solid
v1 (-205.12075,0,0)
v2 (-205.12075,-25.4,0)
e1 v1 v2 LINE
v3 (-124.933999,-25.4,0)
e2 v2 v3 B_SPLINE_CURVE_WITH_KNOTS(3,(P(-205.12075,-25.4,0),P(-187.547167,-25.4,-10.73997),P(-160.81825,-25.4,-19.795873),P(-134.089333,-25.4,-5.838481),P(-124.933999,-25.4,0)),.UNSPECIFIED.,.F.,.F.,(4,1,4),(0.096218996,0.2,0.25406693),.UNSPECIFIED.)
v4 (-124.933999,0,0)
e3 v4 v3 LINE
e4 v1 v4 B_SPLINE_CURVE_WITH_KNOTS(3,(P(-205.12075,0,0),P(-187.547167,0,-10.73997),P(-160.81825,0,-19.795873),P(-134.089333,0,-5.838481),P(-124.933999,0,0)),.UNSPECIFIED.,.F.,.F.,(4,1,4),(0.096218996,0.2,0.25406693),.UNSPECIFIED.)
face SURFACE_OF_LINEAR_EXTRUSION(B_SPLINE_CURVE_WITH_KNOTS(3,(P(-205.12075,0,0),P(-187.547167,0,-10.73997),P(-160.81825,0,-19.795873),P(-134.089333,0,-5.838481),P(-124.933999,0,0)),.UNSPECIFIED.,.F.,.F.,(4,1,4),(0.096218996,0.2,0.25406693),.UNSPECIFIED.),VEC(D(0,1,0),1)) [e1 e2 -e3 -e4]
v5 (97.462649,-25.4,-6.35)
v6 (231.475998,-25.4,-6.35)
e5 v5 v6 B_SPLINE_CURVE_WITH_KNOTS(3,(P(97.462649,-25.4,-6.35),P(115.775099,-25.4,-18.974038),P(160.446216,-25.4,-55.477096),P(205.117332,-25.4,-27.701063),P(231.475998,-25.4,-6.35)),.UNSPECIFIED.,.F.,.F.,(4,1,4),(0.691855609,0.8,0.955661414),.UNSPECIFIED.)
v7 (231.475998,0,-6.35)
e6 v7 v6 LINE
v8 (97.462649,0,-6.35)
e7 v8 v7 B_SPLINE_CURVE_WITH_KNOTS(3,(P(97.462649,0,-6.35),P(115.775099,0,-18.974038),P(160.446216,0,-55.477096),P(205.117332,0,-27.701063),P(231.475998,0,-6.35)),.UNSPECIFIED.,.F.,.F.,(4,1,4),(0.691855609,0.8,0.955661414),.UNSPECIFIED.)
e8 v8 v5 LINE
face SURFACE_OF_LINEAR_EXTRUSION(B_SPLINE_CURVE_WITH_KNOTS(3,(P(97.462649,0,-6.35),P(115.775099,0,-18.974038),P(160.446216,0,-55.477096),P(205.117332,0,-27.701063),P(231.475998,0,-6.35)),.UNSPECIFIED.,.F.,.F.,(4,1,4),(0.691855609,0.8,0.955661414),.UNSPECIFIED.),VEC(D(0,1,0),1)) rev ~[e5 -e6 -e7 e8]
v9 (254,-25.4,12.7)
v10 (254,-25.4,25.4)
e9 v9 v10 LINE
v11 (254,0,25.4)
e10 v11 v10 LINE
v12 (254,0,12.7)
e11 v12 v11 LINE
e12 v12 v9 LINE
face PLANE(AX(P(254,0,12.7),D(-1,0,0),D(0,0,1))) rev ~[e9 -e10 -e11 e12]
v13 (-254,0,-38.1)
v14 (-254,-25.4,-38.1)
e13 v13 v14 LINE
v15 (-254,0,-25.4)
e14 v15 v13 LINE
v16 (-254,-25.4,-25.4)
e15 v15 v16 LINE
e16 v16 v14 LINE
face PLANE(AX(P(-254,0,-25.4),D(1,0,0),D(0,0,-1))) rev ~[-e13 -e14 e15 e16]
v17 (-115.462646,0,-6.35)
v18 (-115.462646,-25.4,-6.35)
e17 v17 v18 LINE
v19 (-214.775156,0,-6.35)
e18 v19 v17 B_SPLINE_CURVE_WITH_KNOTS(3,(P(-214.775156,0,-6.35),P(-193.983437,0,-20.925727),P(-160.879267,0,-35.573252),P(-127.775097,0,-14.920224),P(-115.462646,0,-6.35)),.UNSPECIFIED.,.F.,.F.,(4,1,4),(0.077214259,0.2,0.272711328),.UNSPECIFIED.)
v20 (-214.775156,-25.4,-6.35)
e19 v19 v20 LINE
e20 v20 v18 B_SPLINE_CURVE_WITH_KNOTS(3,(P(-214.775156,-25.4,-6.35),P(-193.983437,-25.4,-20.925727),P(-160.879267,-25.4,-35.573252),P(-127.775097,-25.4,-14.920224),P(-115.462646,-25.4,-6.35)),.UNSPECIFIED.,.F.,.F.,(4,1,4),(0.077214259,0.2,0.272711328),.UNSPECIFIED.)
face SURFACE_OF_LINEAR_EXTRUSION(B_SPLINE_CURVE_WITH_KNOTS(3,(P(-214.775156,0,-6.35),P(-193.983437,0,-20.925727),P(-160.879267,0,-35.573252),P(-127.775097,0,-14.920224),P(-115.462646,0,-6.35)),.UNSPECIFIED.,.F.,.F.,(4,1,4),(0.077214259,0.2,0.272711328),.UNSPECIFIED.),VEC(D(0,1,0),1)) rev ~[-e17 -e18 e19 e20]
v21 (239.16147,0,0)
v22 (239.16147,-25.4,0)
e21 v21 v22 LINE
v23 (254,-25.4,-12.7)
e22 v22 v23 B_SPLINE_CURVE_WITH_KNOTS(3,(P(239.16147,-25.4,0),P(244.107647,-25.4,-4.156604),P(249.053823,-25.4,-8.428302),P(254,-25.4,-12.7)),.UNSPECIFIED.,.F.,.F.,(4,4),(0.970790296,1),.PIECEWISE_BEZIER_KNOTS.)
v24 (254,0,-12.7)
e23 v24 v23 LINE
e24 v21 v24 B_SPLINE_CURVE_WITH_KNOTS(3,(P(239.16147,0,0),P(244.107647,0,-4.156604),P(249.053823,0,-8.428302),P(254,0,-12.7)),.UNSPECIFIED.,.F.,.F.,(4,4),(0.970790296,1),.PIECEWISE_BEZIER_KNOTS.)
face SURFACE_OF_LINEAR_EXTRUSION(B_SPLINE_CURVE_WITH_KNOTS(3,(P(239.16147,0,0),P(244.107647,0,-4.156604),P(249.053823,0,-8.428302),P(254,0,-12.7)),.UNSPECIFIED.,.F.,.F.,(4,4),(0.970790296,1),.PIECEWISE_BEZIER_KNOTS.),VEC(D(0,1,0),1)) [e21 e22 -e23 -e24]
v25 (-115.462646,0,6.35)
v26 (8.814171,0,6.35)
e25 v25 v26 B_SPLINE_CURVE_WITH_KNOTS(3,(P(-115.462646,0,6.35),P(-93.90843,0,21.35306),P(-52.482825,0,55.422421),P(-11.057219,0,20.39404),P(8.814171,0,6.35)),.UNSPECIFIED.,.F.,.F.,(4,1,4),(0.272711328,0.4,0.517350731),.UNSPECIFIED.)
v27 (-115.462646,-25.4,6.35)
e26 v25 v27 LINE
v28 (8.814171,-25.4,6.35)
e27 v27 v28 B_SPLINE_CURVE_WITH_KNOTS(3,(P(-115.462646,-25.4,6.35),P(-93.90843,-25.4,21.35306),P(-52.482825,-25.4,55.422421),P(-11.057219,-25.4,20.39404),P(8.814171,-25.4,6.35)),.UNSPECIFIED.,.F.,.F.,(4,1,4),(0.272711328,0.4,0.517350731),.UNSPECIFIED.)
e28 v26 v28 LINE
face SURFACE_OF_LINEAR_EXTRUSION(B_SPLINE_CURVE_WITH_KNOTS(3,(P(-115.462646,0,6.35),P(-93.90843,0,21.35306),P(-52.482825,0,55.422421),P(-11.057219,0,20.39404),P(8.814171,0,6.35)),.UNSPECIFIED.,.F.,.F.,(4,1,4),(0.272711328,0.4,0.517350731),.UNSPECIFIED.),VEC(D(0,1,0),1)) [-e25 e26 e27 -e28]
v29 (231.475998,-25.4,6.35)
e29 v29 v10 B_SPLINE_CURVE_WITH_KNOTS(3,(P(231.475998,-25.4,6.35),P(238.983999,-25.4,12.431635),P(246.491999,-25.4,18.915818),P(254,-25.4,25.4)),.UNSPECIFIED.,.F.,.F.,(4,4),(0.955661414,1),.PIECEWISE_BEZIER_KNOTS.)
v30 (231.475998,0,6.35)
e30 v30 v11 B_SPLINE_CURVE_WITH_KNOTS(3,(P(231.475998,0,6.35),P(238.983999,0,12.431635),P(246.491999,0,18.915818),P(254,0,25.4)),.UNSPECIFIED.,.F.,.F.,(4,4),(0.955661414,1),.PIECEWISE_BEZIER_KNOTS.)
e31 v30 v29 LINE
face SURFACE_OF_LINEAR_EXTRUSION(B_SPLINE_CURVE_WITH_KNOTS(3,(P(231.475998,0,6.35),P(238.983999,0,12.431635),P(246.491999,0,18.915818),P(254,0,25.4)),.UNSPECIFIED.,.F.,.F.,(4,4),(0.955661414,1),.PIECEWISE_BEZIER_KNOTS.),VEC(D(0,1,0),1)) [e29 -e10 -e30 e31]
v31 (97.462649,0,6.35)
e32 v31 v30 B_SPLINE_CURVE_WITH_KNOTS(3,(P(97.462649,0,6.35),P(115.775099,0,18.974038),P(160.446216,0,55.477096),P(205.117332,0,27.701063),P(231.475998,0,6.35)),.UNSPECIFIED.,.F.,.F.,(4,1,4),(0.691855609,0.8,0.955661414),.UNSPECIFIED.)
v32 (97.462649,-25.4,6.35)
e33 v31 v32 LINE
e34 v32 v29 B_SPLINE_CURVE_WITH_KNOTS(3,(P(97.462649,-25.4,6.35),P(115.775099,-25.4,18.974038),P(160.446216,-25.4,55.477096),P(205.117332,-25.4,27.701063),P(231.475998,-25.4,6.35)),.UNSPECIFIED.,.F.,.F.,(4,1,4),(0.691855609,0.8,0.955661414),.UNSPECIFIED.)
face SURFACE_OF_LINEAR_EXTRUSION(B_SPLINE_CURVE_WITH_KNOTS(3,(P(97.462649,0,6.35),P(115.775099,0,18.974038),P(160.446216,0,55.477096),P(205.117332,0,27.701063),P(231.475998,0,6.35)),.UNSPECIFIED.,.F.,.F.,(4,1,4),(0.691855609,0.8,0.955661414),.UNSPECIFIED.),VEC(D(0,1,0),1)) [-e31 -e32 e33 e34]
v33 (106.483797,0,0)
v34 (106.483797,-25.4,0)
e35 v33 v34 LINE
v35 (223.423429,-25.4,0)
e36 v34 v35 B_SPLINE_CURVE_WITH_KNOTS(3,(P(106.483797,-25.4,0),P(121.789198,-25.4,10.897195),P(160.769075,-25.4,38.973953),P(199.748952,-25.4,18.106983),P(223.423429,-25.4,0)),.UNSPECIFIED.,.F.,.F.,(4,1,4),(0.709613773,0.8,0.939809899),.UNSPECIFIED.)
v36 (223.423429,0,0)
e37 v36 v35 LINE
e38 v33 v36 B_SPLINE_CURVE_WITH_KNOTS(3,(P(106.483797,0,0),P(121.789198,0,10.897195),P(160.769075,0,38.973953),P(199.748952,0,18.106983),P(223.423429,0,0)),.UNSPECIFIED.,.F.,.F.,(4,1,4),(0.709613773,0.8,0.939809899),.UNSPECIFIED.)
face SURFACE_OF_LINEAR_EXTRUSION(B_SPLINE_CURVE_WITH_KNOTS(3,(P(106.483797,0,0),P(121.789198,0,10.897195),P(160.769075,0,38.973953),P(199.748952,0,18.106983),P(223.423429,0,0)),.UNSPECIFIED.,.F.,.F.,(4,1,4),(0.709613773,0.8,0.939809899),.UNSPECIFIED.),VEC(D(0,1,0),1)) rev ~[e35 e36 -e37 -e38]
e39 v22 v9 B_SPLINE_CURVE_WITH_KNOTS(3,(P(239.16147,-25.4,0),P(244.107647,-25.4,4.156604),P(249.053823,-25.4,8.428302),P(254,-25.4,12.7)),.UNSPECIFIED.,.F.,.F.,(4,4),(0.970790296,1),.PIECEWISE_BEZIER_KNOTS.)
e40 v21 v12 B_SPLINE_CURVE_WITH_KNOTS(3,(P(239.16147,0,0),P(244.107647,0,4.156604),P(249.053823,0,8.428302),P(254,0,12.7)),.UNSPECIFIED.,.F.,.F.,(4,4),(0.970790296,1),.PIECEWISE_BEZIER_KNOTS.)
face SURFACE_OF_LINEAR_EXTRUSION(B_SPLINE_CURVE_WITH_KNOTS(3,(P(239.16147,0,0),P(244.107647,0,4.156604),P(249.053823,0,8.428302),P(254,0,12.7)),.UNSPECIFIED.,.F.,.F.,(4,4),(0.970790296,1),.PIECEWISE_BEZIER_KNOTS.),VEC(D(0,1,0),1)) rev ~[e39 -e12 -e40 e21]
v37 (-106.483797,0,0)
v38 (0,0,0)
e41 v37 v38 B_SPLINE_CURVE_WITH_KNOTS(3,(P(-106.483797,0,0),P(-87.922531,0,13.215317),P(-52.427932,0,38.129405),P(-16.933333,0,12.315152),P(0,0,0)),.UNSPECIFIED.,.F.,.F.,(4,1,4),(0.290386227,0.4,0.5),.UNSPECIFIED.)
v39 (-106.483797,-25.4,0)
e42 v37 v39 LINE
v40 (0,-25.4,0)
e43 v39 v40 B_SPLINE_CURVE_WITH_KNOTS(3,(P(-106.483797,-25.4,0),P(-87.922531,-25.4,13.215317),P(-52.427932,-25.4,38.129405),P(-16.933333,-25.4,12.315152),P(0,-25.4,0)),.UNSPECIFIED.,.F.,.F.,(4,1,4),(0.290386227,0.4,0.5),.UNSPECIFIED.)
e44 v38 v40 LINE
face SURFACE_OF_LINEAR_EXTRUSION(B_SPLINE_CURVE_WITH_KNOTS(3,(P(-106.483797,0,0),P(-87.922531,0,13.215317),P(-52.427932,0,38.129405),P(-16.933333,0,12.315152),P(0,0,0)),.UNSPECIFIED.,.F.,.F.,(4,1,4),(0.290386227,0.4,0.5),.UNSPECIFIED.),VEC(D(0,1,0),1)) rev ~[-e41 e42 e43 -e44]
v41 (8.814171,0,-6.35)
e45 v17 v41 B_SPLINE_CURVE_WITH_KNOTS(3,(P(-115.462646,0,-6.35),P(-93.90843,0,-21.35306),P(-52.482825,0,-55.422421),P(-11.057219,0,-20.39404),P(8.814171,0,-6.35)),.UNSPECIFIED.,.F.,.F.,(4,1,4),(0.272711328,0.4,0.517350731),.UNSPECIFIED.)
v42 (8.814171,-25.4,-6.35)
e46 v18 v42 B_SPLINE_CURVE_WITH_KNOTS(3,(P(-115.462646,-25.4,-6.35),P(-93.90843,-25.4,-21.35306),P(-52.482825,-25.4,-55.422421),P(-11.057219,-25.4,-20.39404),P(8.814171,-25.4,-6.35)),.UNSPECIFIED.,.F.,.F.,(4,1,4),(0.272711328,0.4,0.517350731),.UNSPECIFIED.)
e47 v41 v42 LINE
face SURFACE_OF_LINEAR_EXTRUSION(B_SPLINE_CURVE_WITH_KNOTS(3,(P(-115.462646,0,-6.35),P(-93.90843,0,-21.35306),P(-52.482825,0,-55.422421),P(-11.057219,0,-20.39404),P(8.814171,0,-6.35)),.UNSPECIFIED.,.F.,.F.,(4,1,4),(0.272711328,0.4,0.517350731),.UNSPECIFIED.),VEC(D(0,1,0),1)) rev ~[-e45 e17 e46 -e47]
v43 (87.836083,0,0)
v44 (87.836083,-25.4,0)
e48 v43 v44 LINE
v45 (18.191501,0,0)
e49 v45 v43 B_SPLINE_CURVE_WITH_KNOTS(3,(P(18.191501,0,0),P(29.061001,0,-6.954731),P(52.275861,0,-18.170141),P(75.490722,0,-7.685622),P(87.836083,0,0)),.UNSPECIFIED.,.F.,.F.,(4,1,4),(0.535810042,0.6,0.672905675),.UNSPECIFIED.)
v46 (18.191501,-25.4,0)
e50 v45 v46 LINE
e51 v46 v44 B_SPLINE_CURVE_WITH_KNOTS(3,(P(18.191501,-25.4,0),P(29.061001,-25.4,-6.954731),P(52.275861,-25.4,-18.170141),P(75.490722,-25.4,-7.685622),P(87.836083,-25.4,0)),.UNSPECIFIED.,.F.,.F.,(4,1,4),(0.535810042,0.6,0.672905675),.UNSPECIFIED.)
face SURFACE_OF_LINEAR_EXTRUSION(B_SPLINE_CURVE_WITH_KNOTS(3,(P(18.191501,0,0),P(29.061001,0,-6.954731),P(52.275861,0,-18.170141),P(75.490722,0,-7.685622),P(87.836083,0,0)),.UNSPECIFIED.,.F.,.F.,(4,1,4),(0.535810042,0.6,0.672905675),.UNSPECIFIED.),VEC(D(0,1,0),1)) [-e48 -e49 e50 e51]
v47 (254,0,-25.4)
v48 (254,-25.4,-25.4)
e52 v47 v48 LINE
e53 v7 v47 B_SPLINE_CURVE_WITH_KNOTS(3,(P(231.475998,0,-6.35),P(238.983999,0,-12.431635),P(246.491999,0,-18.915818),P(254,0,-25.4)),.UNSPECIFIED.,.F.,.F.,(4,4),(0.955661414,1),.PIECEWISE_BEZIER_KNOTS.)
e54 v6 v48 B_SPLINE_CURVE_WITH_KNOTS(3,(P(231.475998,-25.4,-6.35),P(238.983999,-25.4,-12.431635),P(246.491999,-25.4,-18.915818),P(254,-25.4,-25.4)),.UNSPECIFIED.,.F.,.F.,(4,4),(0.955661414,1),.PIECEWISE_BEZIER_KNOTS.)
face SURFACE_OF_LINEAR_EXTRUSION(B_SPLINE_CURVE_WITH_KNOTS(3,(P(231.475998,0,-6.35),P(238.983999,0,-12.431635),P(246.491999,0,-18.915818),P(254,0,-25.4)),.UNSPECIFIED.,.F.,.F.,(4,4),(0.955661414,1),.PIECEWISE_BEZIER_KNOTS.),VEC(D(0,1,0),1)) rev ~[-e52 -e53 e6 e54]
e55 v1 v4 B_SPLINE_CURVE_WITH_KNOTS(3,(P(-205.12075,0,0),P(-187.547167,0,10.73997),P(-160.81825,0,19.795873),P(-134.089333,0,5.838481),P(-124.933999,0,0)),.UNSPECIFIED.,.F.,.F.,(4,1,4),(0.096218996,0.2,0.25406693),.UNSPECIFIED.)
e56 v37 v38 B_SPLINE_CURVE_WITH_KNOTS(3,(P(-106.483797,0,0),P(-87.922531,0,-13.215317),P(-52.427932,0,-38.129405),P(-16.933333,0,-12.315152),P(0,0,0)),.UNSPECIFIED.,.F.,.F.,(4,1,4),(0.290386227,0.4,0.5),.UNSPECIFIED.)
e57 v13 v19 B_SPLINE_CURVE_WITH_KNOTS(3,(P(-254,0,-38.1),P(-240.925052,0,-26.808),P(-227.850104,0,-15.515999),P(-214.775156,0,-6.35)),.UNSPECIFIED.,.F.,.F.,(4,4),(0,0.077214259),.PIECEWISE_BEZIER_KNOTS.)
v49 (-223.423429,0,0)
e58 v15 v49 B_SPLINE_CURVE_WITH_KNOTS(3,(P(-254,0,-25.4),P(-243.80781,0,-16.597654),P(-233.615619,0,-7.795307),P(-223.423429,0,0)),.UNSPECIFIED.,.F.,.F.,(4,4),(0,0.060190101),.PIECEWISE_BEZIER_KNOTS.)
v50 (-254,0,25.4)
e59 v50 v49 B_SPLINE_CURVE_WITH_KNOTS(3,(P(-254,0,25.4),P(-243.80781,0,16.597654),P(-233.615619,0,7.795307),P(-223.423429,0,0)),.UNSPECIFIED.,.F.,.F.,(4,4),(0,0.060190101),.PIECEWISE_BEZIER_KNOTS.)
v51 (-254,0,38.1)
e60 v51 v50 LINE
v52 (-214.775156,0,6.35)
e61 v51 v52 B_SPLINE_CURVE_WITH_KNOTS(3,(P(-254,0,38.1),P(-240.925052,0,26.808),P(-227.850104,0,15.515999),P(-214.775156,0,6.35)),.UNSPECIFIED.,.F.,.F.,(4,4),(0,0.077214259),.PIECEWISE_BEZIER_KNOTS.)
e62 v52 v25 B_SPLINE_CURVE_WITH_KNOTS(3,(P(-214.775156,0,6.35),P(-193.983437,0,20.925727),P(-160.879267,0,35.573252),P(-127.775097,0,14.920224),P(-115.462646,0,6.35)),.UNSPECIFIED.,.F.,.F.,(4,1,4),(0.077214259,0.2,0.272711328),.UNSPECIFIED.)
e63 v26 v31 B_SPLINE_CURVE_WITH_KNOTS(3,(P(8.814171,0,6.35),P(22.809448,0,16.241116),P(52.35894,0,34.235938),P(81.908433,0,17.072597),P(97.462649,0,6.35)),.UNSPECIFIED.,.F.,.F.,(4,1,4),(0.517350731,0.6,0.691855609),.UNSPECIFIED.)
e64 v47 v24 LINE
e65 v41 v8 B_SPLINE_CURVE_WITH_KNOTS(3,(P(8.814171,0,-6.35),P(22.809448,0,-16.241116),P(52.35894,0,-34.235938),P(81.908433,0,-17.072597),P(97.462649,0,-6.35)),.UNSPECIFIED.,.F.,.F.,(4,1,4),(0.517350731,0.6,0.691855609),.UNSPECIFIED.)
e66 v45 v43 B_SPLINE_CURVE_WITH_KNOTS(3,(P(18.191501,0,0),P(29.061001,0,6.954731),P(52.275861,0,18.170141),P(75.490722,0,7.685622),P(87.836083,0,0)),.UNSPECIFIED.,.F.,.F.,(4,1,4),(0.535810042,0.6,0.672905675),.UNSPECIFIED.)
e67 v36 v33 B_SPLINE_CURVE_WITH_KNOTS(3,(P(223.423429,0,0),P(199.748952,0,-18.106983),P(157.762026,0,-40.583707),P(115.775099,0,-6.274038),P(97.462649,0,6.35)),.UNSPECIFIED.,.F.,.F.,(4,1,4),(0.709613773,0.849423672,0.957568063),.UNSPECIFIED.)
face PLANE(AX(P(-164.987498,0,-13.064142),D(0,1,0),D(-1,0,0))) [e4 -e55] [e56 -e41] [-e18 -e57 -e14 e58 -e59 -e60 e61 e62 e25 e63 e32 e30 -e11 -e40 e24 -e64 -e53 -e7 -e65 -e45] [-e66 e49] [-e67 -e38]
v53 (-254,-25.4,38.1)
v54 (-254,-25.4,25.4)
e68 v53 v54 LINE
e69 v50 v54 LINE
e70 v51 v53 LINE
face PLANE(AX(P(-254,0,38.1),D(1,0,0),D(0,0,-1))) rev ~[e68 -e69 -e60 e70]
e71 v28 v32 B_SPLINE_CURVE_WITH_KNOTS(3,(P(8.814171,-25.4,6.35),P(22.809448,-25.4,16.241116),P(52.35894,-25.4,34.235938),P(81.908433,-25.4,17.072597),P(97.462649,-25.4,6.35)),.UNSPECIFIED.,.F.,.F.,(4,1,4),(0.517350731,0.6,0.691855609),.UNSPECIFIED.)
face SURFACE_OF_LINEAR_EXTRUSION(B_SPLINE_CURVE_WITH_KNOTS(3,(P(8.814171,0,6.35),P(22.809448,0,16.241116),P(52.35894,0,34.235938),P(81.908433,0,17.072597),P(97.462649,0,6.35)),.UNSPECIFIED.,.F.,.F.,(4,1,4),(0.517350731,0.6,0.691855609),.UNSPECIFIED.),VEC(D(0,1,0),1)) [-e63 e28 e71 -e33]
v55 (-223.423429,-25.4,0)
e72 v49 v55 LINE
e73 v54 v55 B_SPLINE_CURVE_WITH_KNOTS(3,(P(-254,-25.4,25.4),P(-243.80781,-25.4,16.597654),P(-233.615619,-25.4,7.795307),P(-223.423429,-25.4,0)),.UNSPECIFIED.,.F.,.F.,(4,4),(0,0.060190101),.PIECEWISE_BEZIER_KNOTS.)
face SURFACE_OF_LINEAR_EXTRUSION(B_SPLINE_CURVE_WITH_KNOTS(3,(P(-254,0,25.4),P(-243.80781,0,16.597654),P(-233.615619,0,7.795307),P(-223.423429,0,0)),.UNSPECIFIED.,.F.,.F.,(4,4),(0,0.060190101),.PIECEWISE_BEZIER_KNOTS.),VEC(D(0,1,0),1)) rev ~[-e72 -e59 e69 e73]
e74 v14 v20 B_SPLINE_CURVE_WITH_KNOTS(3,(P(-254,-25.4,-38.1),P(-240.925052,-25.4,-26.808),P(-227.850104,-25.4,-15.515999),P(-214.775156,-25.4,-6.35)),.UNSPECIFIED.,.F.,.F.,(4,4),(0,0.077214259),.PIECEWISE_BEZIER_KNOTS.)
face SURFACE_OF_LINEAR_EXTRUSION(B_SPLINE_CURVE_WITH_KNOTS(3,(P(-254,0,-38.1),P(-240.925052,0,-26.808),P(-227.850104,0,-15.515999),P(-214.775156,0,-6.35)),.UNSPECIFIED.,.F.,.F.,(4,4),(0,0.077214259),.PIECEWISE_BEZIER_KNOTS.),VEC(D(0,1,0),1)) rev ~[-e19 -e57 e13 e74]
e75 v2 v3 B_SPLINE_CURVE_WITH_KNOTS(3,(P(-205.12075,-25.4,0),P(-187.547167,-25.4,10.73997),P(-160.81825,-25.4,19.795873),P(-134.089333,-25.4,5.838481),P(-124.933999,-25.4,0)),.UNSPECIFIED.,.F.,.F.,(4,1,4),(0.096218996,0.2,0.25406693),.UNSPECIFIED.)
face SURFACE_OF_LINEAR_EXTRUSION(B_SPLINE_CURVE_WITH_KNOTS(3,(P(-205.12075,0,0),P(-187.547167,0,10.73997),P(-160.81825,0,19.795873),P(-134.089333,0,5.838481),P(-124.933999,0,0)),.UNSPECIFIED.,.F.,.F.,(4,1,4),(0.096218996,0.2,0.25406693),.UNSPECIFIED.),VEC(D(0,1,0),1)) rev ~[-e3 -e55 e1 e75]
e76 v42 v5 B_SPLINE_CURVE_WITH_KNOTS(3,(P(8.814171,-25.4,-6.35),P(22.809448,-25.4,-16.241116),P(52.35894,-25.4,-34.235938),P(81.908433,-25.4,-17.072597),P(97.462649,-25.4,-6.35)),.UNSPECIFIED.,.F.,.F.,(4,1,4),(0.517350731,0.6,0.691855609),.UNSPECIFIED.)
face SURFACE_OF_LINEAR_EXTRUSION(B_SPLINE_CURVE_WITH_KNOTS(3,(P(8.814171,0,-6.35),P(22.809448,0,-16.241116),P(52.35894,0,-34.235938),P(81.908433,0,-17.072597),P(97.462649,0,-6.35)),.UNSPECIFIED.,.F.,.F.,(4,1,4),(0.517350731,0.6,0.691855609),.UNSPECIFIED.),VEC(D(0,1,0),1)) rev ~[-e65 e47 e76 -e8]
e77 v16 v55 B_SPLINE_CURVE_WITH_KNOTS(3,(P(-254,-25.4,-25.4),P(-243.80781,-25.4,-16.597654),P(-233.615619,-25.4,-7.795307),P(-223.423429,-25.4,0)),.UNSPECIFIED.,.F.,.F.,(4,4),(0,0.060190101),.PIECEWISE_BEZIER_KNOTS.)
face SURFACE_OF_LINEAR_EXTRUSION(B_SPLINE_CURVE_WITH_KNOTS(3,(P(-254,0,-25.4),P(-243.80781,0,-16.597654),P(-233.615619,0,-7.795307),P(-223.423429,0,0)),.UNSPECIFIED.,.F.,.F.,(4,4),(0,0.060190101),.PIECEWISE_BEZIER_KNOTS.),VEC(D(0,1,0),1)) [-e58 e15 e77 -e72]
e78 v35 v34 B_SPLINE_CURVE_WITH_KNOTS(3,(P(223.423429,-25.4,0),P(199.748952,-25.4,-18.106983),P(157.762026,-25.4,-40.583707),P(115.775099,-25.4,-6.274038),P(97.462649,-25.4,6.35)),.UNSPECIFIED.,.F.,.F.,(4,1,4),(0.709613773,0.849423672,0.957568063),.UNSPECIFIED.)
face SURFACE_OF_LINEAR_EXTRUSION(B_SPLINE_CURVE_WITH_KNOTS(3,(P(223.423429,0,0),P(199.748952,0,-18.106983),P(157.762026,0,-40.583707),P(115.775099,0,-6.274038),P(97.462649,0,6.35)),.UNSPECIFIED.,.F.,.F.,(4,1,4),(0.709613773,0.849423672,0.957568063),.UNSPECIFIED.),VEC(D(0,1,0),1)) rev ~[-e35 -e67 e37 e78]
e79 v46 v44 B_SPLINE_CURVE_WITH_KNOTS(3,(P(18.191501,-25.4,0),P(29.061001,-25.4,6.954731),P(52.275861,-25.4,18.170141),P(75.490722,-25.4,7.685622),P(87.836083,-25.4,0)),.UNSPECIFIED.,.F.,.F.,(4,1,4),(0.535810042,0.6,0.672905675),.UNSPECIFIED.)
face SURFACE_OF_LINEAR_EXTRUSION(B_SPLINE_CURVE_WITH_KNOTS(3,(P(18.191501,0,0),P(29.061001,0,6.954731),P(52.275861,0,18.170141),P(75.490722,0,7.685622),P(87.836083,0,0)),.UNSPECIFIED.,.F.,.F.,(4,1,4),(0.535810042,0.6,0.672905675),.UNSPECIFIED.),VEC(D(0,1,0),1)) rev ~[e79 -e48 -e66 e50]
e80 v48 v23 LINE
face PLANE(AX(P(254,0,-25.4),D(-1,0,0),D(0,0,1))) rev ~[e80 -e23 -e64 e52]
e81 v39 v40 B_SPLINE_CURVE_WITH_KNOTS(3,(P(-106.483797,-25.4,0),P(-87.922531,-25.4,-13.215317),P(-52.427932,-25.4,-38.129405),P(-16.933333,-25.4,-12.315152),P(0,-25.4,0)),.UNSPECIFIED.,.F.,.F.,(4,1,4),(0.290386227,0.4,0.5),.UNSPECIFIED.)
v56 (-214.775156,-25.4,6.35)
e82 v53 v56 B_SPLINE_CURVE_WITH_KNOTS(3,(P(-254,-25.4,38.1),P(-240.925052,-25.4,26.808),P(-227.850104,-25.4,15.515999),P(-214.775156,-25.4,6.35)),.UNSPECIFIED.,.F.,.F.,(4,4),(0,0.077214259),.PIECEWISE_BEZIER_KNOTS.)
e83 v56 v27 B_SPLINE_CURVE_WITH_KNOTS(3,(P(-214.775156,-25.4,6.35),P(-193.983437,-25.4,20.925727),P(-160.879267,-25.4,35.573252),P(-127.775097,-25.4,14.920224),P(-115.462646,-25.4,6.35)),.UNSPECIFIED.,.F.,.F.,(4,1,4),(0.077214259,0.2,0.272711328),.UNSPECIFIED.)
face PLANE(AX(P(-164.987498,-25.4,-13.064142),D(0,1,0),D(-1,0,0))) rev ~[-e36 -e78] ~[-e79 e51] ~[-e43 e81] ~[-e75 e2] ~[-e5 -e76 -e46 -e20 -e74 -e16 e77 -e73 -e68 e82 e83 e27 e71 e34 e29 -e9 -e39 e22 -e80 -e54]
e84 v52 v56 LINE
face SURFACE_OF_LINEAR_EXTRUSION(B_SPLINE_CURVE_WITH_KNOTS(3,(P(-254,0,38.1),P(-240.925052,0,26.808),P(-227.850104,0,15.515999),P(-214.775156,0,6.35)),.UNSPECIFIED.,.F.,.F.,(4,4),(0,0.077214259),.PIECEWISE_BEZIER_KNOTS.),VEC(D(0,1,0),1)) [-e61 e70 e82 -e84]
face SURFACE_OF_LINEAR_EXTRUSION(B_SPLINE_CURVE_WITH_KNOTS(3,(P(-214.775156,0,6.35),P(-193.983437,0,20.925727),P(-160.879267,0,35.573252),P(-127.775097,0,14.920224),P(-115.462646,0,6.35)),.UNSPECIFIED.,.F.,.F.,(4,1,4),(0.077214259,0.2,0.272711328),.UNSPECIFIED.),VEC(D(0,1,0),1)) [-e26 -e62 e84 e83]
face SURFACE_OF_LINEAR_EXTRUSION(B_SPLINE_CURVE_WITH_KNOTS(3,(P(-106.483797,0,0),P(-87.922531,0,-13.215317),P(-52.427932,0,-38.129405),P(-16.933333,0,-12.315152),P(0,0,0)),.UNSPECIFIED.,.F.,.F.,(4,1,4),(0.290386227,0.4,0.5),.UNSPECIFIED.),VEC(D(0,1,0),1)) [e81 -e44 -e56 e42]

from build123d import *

# Parameters (mm, degrees)
F1_DEPTH = 25.4


with BuildPart() as f1:
    # F0 (on Front) → F1 (new body)
    with BuildSketch(Plane.XZ):
        with BuildLine():
            add(Edge.make_bspline(
                [(-214.7751562029, -6.35), (-211.5570208021, -4.093973735), (-208.3388854013, -1.9667404666), (-205.1207500005, 0)],
                knots=[0.0772142594, 0.0772142594, 0.0772142594, 0.0772142594, 0.0962189961, 0.0962189961, 0.0962189961, 0.0962189961], degree=3))
            add(Edge.make_bspline(
                [(-214.7751562029, -6.35), (-193.9834374686, -20.9257271579), (-160.8792672429, -35.5732524158), (-127.7750970172, -14.9202237117), (-115.4626455258, -6.35)],
                knots=[0.0772142594, 0.0772142594, 0.0772142594, 0.0772142594, 0.2, 0.2727113277, 0.2727113277, 0.2727113277, 0.2727113277], degree=3))
            add(Edge.make_bspline(
                [(-124.933999452, 0), (-121.7768814766, -2.0133370092), (-118.6197635012, -4.1524516602), (-115.4626455258, -6.35)],
                knots=[0.2540669302, 0.2540669302, 0.2540669302, 0.2540669302, 0.2727113277, 0.2727113277, 0.2727113277, 0.2727113277], degree=3))
            add(Edge.make_bspline(
                [(-205.1207500005, 0), (-187.547166667, -10.7399699454), (-160.8182498175, -19.7958733422), (-134.089332968, -5.8384805203), (-124.933999452, 0)],
                knots=[0.0962189961, 0.0962189961, 0.0962189961, 0.0962189961, 0.2, 0.2540669302, 0.2540669302, 0.2540669302, 0.2540669302], degree=3))
        make_face()
        with BuildLine():
            add(Edge.make_bspline(
                [(-214.7751562029, 6.35), (-193.9834374686, 20.9257271579), (-160.8792672429, 35.5732524158), (-127.7750970172, 14.9202237117), (-115.4626455258, 6.35)],
                knots=[0.0772142594, 0.0772142594, 0.0772142594, 0.0772142594, 0.2, 0.2727113277, 0.2727113277, 0.2727113277, 0.2727113277], degree=3))
            add(Edge.make_bspline(
                [(-214.7751562029, 6.35), (-211.5570208021, 4.093973735), (-208.3388854013, 1.9667404666), (-205.1207500005, 0)],
                knots=[0.0772142594, 0.0772142594, 0.0772142594, 0.0772142594, 0.0962189961, 0.0962189961, 0.0962189961, 0.0962189961], degree=3))
            add(Edge.make_bspline(
                [(-205.1207500005, 0), (-187.547166667, 10.7399699454), (-160.8182498175, 19.7958733422), (-134.089332968, 5.8384805203), (-124.933999452, 0)],
                knots=[0.0962189961, 0.0962189961, 0.0962189961, 0.0962189961, 0.2, 0.2540669302, 0.2540669302, 0.2540669302, 0.2540669302], degree=3))
            add(Edge.make_bspline(
                [(-124.933999452, 0), (-121.7768814766, 2.0133370092), (-118.6197635012, 4.1524516602), (-115.4626455258, 6.35)],
                knots=[0.2540669302, 0.2540669302, 0.2540669302, 0.2540669302, 0.2727113277, 0.2727113277, 0.2727113277, 0.2727113277], degree=3))
        make_face()
        with BuildLine():
            add(Edge.make_bspline(
                [(-223.4234286462, 0), (-220.5406711651, 2.2048234714), (-217.657913684, 4.3290854694), (-214.7751562029, 6.35)],
                knots=[0.0601901011, 0.0601901011, 0.0601901011, 0.0601901011, 0.0772142594, 0.0772142594, 0.0772142594, 0.0772142594], degree=3))
            add(Edge.make_bspline(
                [(-223.4234286462, 0), (-220.5406711651, -2.2048234714), (-217.657913684, -4.3290854694), (-214.7751562029, -6.35)],
                knots=[0.0601901011, 0.0601901011, 0.0601901011, 0.0601901011, 0.0772142594, 0.0772142594, 0.0772142594, 0.0772142594], degree=3))
            add(Edge.make_bspline(
                [(-214.7751562029, -6.35), (-211.5570208021, -4.093973735), (-208.3388854013, -1.9667404666), (-205.1207500005, 0)],
                knots=[0.0772142594, 0.0772142594, 0.0772142594, 0.0772142594, 0.0962189961, 0.0962189961, 0.0962189961, 0.0962189961], degree=3))
            add(Edge.make_bspline(
                [(-214.7751562029, 6.35), (-211.5570208021, 4.093973735), (-208.3388854013, 1.9667404666), (-205.1207500005, 0)],
                knots=[0.0772142594, 0.0772142594, 0.0772142594, 0.0772142594, 0.0962189961, 0.0962189961, 0.0962189961, 0.0962189961], degree=3))
        make_face()
        with BuildLine():
            add(Edge.make_bspline(
                [(-254, -25.4), (-243.8078095487, -16.5976537012), (-233.6156190975, -7.7953074024), (-223.4234286462, 0)],
                knots=[0, 0, 0, 0, 0.0601901011, 0.0601901011, 0.0601901011, 0.0601901011], degree=3))
            Line((-254, -25.4), (-254, -38.1))
            add(Edge.make_bspline(
                [(-254, -38.1), (-240.9250520676, -26.807999513), (-227.8501041353, -15.5159990259), (-214.7751562029, -6.35)],
                knots=[0, 0, 0, 0, 0.0772142594, 0.0772142594, 0.0772142594, 0.0772142594], degree=3))
            add(Edge.make_bspline(
                [(-223.4234286462, 0), (-220.5406711651, -2.2048234714), (-217.657913684, -4.3290854694), (-214.7751562029, -6.35)],
                knots=[0.0601901011, 0.0601901011, 0.0601901011, 0.0601901011, 0.0772142594, 0.0772142594, 0.0772142594, 0.0772142594], degree=3))
        make_face()
        with BuildLine():
            add(Edge.make_bspline(
                [(-254, 25.4), (-243.8078095487, 16.5976537012), (-233.6156190975, 7.7953074024), (-223.4234286462, 0)],
                knots=[0, 0, 0, 0, 0.0601901011, 0.0601901011, 0.0601901011, 0.0601901011], degree=3))
            add(Edge.make_bspline(
                [(-223.4234286462, 0), (-220.5406711651, 2.2048234714), (-217.657913684, 4.3290854694), (-214.7751562029, 6.35)],
                knots=[0.0601901011, 0.0601901011, 0.0601901011, 0.0601901011, 0.0772142594, 0.0772142594, 0.0772142594, 0.0772142594], degree=3))
            add(Edge.make_bspline(
                [(-254, 38.1), (-240.9250520676, 26.807999513), (-227.8501041353, 15.5159990259), (-214.7751562029, 6.35)],
                knots=[0, 0, 0, 0, 0.0772142594, 0.0772142594, 0.0772142594, 0.0772142594], degree=3))
            Line((-254, 38.1), (-254, 25.4))
        make_face()
        with BuildLine():
            add(Edge.make_bspline(
                [(-115.4626455258, -6.35), (-112.4696958715, -4.2667229116), (-109.4767462173, -2.1309311697), (-106.4837965631, 0)],
                knots=[0.2727113277, 0.2727113277, 0.2727113277, 0.2727113277, 0.2903862272, 0.2903862272, 0.2903862272, 0.2903862272], degree=3))
            add(Edge.make_bspline(
                [(-115.4626455258, -6.35), (-93.9084303505, -21.3530597976), (-52.4828246794, -55.4224209823), (-11.0572190083, -20.3940403676), (8.8141714876, -6.35)],
                knots=[0.2727113277, 0.2727113277, 0.2727113277, 0.2727113277, 0.4, 0.5173507313, 0.5173507313, 0.5173507313, 0.5173507313], degree=3))
            add(Edge.make_bspline(
                [(0, 0), (2.9380571625, -2.1367688455), (5.8761143251, -4.273537691), (8.8141714876, -6.35)],
                knots=[0.5, 0.5, 0.5, 0.5, 0.5173507313, 0.5173507313, 0.5173507313, 0.5173507313], degree=3))
            add(Edge.make_bspline(
                [(-106.4837965631, 0), (-87.9225310421, -13.2153172678), (-52.4279321877, -38.1294052274), (-16.9333333333, -12.3151515152), (0, 0)],
                knots=[0.2903862272, 0.2903862272, 0.2903862272, 0.2903862272, 0.4, 0.5, 0.5, 0.5, 0.5], degree=3))
        make_face()
        with BuildLine():
            add(Edge.make_bspline(
                [(-115.4626455258, 6.35), (-112.4696958715, 4.2667229116), (-109.4767462173, 2.1309311697), (-106.4837965631, 0)],
                knots=[0.2727113277, 0.2727113277, 0.2727113277, 0.2727113277, 0.2903862272, 0.2903862272, 0.2903862272, 0.2903862272], degree=3))
            add(Edge.make_bspline(
                [(-124.933999452, 0), (-121.7768814766, 2.0133370092), (-118.6197635012, 4.1524516602), (-115.4626455258, 6.35)],
                knots=[0.2540669302, 0.2540669302, 0.2540669302, 0.2540669302, 0.2727113277, 0.2727113277, 0.2727113277, 0.2727113277], degree=3))
            add(Edge.make_bspline(
                [(-124.933999452, 0), (-121.7768814766, -2.0133370092), (-118.6197635012, -4.1524516602), (-115.4626455258, -6.35)],
                knots=[0.2540669302, 0.2540669302, 0.2540669302, 0.2540669302, 0.2727113277, 0.2727113277, 0.2727113277, 0.2727113277], degree=3))
            add(Edge.make_bspline(
                [(-115.4626455258, -6.35), (-112.4696958715, -4.2667229116), (-109.4767462173, -2.1309311697), (-106.4837965631, 0)],
                knots=[0.2727113277, 0.2727113277, 0.2727113277, 0.2727113277, 0.2903862272, 0.2903862272, 0.2903862272, 0.2903862272], degree=3))
        make_face()
        with BuildLine():
            add(Edge.make_bspline(
                [(-115.4626455258, 6.35), (-93.9084303505, 21.3530597976), (-52.4828246794, 55.4224209823), (-11.0572190083, 20.3940403676), (8.8141714876, 6.35)],
                knots=[0.2727113277, 0.2727113277, 0.2727113277, 0.2727113277, 0.4, 0.5173507313, 0.5173507313, 0.5173507313, 0.5173507313], degree=3))
            add(Edge.make_bspline(
                [(-115.4626455258, 6.35), (-112.4696958715, 4.2667229116), (-109.4767462173, 2.1309311697), (-106.4837965631, 0)],
                knots=[0.2727113277, 0.2727113277, 0.2727113277, 0.2727113277, 0.2903862272, 0.2903862272, 0.2903862272, 0.2903862272], degree=3))
            add(Edge.make_bspline(
                [(-106.4837965631, 0), (-87.9225310421, 13.2153172678), (-52.4279321877, 38.1294052274), (-16.9333333333, 12.3151515152), (0, 0)],
                knots=[0.2903862272, 0.2903862272, 0.2903862272, 0.2903862272, 0.4, 0.5, 0.5, 0.5, 0.5], degree=3))
            add(Edge.make_bspline(
                [(0, 0), (2.9380571625, 2.1367688455), (5.8761143251, 4.273537691), (8.8141714876, 6.35)],
                knots=[0.5, 0.5, 0.5, 0.5, 0.5173507313, 0.5173507313, 0.5173507313, 0.5173507313], degree=3))
        make_face()
        with BuildLine():
            add(Edge.make_bspline(
                [(8.8141714876, -6.35), (11.9399480407, -4.1408676244), (15.0657245938, -1.9999942239), (18.1915011468, 0)],
                knots=[0.5173507313, 0.5173507313, 0.5173507313, 0.5173507313, 0.5358100416, 0.5358100416, 0.5358100416, 0.5358100416], degree=3))
            add(Edge.make_bspline(
                [(8.8141714876, -6.35), (22.8094476584, -16.2411157495), (52.3589401975, -34.2359377937), (81.9084327366, -17.0725968822), (97.4626491049, -6.35)],
                knots=[0.5173507313, 0.5173507313, 0.5173507313, 0.5173507313, 0.6, 0.6918556085, 0.6918556085, 0.6918556085, 0.6918556085], degree=3))
            add(Edge.make_bspline(
                [(87.8360827577, 0), (91.0449382067, -1.9976776152), (94.2537936558, -4.1379140537), (97.4626491049, -6.35)],
                knots=[0.6729056747, 0.6729056747, 0.6729056747, 0.6729056747, 0.6918556085, 0.6918556085, 0.6918556085, 0.6918556085], degree=3))
            add(Edge.make_bspline(
                [(18.1915011468, 0), (29.0610007646, -6.9547314348), (52.2758613015, -18.1701405375), (75.4907218384, -7.6856223508), (87.8360827577, 0)],
                knots=[0.5358100416, 0.5358100416, 0.5358100416, 0.5358100416, 0.6, 0.6729056747, 0.6729056747, 0.6729056747, 0.6729056747], degree=3))
        make_face()
        with BuildLine():
            add(Edge.make_bspline(
                [(8.8141714876, 6.35), (22.8094476584, 16.2411157495), (52.3589401975, 34.2359377937), (81.9084327366, 17.0725968822), (97.4626491049, 6.35)],
                knots=[0.5173507313, 0.5173507313, 0.5173507313, 0.5173507313, 0.6, 0.6918556085, 0.6918556085, 0.6918556085, 0.6918556085], degree=3))
            add(Edge.make_bspline(
                [(8.8141714876, 6.35), (11.9399480407, 4.1408676244), (15.0657245938, 1.9999942239), (18.1915011468, 0)],
                knots=[0.5173507313, 0.5173507313, 0.5173507313, 0.5173507313, 0.5358100416, 0.5358100416, 0.5358100416, 0.5358100416], degree=3))
            add(Edge.make_bspline(
                [(18.1915011468, 0), (29.0610007646, 6.9547314348), (52.2758613015, 18.1701405375), (75.4907218384, 7.6856223508), (87.8360827577, 0)],
                knots=[0.5358100416, 0.5358100416, 0.5358100416, 0.5358100416, 0.6, 0.6729056747, 0.6729056747, 0.6729056747, 0.6729056747], degree=3))
            add(Edge.make_bspline(
                [(87.8360827577, 0), (91.0449382067, 1.9976776152), (94.2537936558, 4.1379140537), (97.4626491049, 6.35)],
                knots=[0.6729056747, 0.6729056747, 0.6729056747, 0.6729056747, 0.6918556085, 0.6918556085, 0.6918556085, 0.6918556085], degree=3))
        make_face()
        with BuildLine():
            add(Edge.make_bspline(
                [(8.8141714876, 6.35), (11.9399480407, 4.1408676244), (15.0657245938, 1.9999942239), (18.1915011468, 0)],
                knots=[0.5173507313, 0.5173507313, 0.5173507313, 0.5173507313, 0.5358100416, 0.5358100416, 0.5358100416, 0.5358100416], degree=3))
            add(Edge.make_bspline(
                [(0, 0), (2.9380571625, 2.1367688455), (5.8761143251, 4.273537691), (8.8141714876, 6.35)],
                knots=[0.5, 0.5, 0.5, 0.5, 0.5173507313, 0.5173507313, 0.5173507313, 0.5173507313], degree=3))
            add(Edge.make_bspline(
                [(0, 0), (2.9380571625, -2.1367688455), (5.8761143251, -4.273537691), (8.8141714876, -6.35)],
                knots=[0.5, 0.5, 0.5, 0.5, 0.5173507313, 0.5173507313, 0.5173507313, 0.5173507313], degree=3))
            add(Edge.make_bspline(
                [(8.8141714876, -6.35), (11.9399480407, -4.1408676244), (15.0657245938, -1.9999942239), (18.1915011468, 0)],
                knots=[0.5173507313, 0.5173507313, 0.5173507313, 0.5173507313, 0.5358100416, 0.5358100416, 0.5358100416, 0.5358100416], degree=3))
        make_face()
        with BuildLine():
            add(Edge.make_bspline(
                [(97.4626491049, -6.35), (100.4696982576, -4.2770330882), (103.4767474103, -2.1409697819), (106.4837965631, 0)],
                knots=[0.6918556085, 0.6918556085, 0.6918556085, 0.6918556085, 0.7096137728, 0.7096137728, 0.7096137728, 0.7096137728], degree=3))
            add(Edge.make_bspline(
                [(97.4626491049, -6.35), (115.7750994032, -18.974038256), (160.4462157888, -55.4770957998), (205.1173321744, -27.7010633214), (231.4759982616, -6.35)],
                knots=[0.6918556085, 0.6918556085, 0.6918556085, 0.6918556085, 0.8, 0.9556614139, 0.9556614139, 0.9556614139, 0.9556614139], degree=3))
            add(Edge.make_bspline(
                [(223.4234286462, 0), (226.107618518, -2.0529527266), (228.7918083898, -4.1757508278), (231.4759982616, -6.35)],
                knots=[0.9398098989, 0.9398098989, 0.9398098989, 0.9398098989, 0.9556614139, 0.9556614139, 0.9556614139, 0.9556614139], degree=3))
            add(Edge.make_bspline(
                [(106.4837965631, 0), (121.7891977087, -10.8971951197), (160.7690750698, -38.9739529901), (199.7489524308, -18.1069830447), (223.4234286462, 0)],
                knots=[0.7096137728, 0.7096137728, 0.7096137728, 0.7096137728, 0.8, 0.9398098989, 0.9398098989, 0.9398098989, 0.9398098989], degree=3))
        make_face()
        with BuildLine():
            add(Edge.make_bspline(
                [(97.4626491049, 6.35), (100.4696982576, 4.2770330882), (103.4767474103, 2.1409697819), (106.4837965631, 0)],
                knots=[0.6918556085, 0.6918556085, 0.6918556085, 0.6918556085, 0.7096137728, 0.7096137728, 0.7096137728, 0.7096137728], degree=3))
            add(Edge.make_bspline(
                [(87.8360827577, 0), (91.0449382067, 1.9976776152), (94.2537936558, 4.1379140537), (97.4626491049, 6.35)],
                knots=[0.6729056747, 0.6729056747, 0.6729056747, 0.6729056747, 0.6918556085, 0.6918556085, 0.6918556085, 0.6918556085], degree=3))
            add(Edge.make_bspline(
                [(87.8360827577, 0), (91.0449382067, -1.9976776152), (94.2537936558, -4.1379140537), (97.4626491049, -6.35)],
                knots=[0.6729056747, 0.6729056747, 0.6729056747, 0.6729056747, 0.6918556085, 0.6918556085, 0.6918556085, 0.6918556085], degree=3))
            add(Edge.make_bspline(
                [(97.4626491049, -6.35), (100.4696982576, -4.2770330882), (103.4767474103, -2.1409697819), (106.4837965631, 0)],
                knots=[0.6918556085, 0.6918556085, 0.6918556085, 0.6918556085, 0.7096137728, 0.7096137728, 0.7096137728, 0.7096137728], degree=3))
        make_face()
        with BuildLine():
            add(Edge.make_bspline(
                [(97.4626491049, 6.35), (115.7750994032, 18.974038256), (160.4462157888, 55.4770957998), (205.1173321744, 27.7010633214), (231.4759982616, 6.35)],
                knots=[0.6918556085, 0.6918556085, 0.6918556085, 0.6918556085, 0.8, 0.9556614139, 0.9556614139, 0.9556614139, 0.9556614139], degree=3))
            add(Edge.make_bspline(
                [(97.4626491049, 6.35), (100.4696982576, 4.2770330882), (103.4767474103, 2.1409697819), (106.4837965631, 0)],
                knots=[0.6918556085, 0.6918556085, 0.6918556085, 0.6918556085, 0.7096137728, 0.7096137728, 0.7096137728, 0.7096137728], degree=3))
            add(Edge.make_bspline(
                [(106.4837965631, 0), (121.7891977087, 10.8971951197), (160.7690750698, 38.9739529901), (199.7489524308, 18.1069830447), (223.4234286462, 0)],
                knots=[0.7096137728, 0.7096137728, 0.7096137728, 0.7096137728, 0.8, 0.9398098989, 0.9398098989, 0.9398098989, 0.9398098989], degree=3))
            add(Edge.make_bspline(
                [(223.4234286462, 0), (226.107618518, 2.0529527266), (228.7918083898, 4.1757508278), (231.4759982616, 6.35)],
                knots=[0.9398098989, 0.9398098989, 0.9398098989, 0.9398098989, 0.9556614139, 0.9556614139, 0.9556614139, 0.9556614139], degree=3))
        make_face()
        with BuildLine():
            add(Edge.make_bspline(
                [(231.4759982616, -6.35), (234.0378222269, -4.2748697365), (236.5996461922, -2.1528725416), (239.1614701575, 0)],
                knots=[0.9556614139, 0.9556614139, 0.9556614139, 0.9556614139, 0.9707902956, 0.9707902956, 0.9707902956, 0.9707902956], degree=3))
            add(Edge.make_bspline(
                [(231.4759982616, -6.35), (238.983998841, -12.4316353627), (246.4919994205, -18.9158176814), (254, -25.4)],
                knots=[0.9556614139, 0.9556614139, 0.9556614139, 0.9556614139, 1, 1, 1, 1], degree=3))
            Line((254, -25.4), (254, -12.7))
            add(Edge.make_bspline(
                [(239.1614701575, 0), (244.1076467717, -4.1566040301), (249.0538233858, -8.428302015), (254, -12.7)],
                knots=[0.9707902956, 0.9707902956, 0.9707902956, 0.9707902956, 1, 1, 1, 1], degree=3))
        make_face()
        with BuildLine():
            add(Edge.make_bspline(
                [(231.4759982616, 6.35), (238.983998841, 12.4316353627), (246.4919994205, 18.9158176814), (254, 25.4)],
                knots=[0.9556614139, 0.9556614139, 0.9556614139, 0.9556614139, 1, 1, 1, 1], degree=3))
            add(Edge.make_bspline(
                [(231.4759982616, 6.35), (234.0378222269, 4.2748697365), (236.5996461922, 2.1528725416), (239.1614701575, 0)],
                knots=[0.9556614139, 0.9556614139, 0.9556614139, 0.9556614139, 0.9707902956, 0.9707902956, 0.9707902956, 0.9707902956], degree=3))
            add(Edge.make_bspline(
                [(239.1614701575, 0), (244.1076467717, 4.1566040301), (249.0538233858, 8.428302015), (254, 12.7)],
                knots=[0.9707902956, 0.9707902956, 0.9707902956, 0.9707902956, 1, 1, 1, 1], degree=3))
            Line((254, 12.7), (254, 25.4))
        make_face()
        with BuildLine():
            add(Edge.make_bspline(
                [(231.4759982616, 6.35), (234.0378222269, 4.2748697365), (236.5996461922, 2.1528725416), (239.1614701575, 0)],
                knots=[0.9556614139, 0.9556614139, 0.9556614139, 0.9556614139, 0.9707902956, 0.9707902956, 0.9707902956, 0.9707902956], degree=3))
            add(Edge.make_bspline(
                [(223.4234286462, 0), (226.107618518, 2.0529527266), (228.7918083898, 4.1757508278), (231.4759982616, 6.35)],
                knots=[0.9398098989, 0.9398098989, 0.9398098989, 0.9398098989, 0.9556614139, 0.9556614139, 0.9556614139, 0.9556614139], degree=3))
            add(Edge.make_bspline(
                [(223.4234286462, 0), (226.107618518, -2.0529527266), (228.7918083898, -4.1757508278), (231.4759982616, -6.35)],
                knots=[0.9398098989, 0.9398098989, 0.9398098989, 0.9398098989, 0.9556614139, 0.9556614139, 0.9556614139, 0.9556614139], degree=3))
            add(Edge.make_bspline(
                [(231.4759982616, -6.35), (234.0378222269, -4.2748697365), (236.5996461922, -2.1528725416), (239.1614701575, 0)],
                knots=[0.9556614139, 0.9556614139, 0.9556614139, 0.9556614139, 0.9707902956, 0.9707902956, 0.9707902956, 0.9707902956], degree=3))
        make_face()
    extrude(amount=F1_DEPTH)


solid = f1.part
